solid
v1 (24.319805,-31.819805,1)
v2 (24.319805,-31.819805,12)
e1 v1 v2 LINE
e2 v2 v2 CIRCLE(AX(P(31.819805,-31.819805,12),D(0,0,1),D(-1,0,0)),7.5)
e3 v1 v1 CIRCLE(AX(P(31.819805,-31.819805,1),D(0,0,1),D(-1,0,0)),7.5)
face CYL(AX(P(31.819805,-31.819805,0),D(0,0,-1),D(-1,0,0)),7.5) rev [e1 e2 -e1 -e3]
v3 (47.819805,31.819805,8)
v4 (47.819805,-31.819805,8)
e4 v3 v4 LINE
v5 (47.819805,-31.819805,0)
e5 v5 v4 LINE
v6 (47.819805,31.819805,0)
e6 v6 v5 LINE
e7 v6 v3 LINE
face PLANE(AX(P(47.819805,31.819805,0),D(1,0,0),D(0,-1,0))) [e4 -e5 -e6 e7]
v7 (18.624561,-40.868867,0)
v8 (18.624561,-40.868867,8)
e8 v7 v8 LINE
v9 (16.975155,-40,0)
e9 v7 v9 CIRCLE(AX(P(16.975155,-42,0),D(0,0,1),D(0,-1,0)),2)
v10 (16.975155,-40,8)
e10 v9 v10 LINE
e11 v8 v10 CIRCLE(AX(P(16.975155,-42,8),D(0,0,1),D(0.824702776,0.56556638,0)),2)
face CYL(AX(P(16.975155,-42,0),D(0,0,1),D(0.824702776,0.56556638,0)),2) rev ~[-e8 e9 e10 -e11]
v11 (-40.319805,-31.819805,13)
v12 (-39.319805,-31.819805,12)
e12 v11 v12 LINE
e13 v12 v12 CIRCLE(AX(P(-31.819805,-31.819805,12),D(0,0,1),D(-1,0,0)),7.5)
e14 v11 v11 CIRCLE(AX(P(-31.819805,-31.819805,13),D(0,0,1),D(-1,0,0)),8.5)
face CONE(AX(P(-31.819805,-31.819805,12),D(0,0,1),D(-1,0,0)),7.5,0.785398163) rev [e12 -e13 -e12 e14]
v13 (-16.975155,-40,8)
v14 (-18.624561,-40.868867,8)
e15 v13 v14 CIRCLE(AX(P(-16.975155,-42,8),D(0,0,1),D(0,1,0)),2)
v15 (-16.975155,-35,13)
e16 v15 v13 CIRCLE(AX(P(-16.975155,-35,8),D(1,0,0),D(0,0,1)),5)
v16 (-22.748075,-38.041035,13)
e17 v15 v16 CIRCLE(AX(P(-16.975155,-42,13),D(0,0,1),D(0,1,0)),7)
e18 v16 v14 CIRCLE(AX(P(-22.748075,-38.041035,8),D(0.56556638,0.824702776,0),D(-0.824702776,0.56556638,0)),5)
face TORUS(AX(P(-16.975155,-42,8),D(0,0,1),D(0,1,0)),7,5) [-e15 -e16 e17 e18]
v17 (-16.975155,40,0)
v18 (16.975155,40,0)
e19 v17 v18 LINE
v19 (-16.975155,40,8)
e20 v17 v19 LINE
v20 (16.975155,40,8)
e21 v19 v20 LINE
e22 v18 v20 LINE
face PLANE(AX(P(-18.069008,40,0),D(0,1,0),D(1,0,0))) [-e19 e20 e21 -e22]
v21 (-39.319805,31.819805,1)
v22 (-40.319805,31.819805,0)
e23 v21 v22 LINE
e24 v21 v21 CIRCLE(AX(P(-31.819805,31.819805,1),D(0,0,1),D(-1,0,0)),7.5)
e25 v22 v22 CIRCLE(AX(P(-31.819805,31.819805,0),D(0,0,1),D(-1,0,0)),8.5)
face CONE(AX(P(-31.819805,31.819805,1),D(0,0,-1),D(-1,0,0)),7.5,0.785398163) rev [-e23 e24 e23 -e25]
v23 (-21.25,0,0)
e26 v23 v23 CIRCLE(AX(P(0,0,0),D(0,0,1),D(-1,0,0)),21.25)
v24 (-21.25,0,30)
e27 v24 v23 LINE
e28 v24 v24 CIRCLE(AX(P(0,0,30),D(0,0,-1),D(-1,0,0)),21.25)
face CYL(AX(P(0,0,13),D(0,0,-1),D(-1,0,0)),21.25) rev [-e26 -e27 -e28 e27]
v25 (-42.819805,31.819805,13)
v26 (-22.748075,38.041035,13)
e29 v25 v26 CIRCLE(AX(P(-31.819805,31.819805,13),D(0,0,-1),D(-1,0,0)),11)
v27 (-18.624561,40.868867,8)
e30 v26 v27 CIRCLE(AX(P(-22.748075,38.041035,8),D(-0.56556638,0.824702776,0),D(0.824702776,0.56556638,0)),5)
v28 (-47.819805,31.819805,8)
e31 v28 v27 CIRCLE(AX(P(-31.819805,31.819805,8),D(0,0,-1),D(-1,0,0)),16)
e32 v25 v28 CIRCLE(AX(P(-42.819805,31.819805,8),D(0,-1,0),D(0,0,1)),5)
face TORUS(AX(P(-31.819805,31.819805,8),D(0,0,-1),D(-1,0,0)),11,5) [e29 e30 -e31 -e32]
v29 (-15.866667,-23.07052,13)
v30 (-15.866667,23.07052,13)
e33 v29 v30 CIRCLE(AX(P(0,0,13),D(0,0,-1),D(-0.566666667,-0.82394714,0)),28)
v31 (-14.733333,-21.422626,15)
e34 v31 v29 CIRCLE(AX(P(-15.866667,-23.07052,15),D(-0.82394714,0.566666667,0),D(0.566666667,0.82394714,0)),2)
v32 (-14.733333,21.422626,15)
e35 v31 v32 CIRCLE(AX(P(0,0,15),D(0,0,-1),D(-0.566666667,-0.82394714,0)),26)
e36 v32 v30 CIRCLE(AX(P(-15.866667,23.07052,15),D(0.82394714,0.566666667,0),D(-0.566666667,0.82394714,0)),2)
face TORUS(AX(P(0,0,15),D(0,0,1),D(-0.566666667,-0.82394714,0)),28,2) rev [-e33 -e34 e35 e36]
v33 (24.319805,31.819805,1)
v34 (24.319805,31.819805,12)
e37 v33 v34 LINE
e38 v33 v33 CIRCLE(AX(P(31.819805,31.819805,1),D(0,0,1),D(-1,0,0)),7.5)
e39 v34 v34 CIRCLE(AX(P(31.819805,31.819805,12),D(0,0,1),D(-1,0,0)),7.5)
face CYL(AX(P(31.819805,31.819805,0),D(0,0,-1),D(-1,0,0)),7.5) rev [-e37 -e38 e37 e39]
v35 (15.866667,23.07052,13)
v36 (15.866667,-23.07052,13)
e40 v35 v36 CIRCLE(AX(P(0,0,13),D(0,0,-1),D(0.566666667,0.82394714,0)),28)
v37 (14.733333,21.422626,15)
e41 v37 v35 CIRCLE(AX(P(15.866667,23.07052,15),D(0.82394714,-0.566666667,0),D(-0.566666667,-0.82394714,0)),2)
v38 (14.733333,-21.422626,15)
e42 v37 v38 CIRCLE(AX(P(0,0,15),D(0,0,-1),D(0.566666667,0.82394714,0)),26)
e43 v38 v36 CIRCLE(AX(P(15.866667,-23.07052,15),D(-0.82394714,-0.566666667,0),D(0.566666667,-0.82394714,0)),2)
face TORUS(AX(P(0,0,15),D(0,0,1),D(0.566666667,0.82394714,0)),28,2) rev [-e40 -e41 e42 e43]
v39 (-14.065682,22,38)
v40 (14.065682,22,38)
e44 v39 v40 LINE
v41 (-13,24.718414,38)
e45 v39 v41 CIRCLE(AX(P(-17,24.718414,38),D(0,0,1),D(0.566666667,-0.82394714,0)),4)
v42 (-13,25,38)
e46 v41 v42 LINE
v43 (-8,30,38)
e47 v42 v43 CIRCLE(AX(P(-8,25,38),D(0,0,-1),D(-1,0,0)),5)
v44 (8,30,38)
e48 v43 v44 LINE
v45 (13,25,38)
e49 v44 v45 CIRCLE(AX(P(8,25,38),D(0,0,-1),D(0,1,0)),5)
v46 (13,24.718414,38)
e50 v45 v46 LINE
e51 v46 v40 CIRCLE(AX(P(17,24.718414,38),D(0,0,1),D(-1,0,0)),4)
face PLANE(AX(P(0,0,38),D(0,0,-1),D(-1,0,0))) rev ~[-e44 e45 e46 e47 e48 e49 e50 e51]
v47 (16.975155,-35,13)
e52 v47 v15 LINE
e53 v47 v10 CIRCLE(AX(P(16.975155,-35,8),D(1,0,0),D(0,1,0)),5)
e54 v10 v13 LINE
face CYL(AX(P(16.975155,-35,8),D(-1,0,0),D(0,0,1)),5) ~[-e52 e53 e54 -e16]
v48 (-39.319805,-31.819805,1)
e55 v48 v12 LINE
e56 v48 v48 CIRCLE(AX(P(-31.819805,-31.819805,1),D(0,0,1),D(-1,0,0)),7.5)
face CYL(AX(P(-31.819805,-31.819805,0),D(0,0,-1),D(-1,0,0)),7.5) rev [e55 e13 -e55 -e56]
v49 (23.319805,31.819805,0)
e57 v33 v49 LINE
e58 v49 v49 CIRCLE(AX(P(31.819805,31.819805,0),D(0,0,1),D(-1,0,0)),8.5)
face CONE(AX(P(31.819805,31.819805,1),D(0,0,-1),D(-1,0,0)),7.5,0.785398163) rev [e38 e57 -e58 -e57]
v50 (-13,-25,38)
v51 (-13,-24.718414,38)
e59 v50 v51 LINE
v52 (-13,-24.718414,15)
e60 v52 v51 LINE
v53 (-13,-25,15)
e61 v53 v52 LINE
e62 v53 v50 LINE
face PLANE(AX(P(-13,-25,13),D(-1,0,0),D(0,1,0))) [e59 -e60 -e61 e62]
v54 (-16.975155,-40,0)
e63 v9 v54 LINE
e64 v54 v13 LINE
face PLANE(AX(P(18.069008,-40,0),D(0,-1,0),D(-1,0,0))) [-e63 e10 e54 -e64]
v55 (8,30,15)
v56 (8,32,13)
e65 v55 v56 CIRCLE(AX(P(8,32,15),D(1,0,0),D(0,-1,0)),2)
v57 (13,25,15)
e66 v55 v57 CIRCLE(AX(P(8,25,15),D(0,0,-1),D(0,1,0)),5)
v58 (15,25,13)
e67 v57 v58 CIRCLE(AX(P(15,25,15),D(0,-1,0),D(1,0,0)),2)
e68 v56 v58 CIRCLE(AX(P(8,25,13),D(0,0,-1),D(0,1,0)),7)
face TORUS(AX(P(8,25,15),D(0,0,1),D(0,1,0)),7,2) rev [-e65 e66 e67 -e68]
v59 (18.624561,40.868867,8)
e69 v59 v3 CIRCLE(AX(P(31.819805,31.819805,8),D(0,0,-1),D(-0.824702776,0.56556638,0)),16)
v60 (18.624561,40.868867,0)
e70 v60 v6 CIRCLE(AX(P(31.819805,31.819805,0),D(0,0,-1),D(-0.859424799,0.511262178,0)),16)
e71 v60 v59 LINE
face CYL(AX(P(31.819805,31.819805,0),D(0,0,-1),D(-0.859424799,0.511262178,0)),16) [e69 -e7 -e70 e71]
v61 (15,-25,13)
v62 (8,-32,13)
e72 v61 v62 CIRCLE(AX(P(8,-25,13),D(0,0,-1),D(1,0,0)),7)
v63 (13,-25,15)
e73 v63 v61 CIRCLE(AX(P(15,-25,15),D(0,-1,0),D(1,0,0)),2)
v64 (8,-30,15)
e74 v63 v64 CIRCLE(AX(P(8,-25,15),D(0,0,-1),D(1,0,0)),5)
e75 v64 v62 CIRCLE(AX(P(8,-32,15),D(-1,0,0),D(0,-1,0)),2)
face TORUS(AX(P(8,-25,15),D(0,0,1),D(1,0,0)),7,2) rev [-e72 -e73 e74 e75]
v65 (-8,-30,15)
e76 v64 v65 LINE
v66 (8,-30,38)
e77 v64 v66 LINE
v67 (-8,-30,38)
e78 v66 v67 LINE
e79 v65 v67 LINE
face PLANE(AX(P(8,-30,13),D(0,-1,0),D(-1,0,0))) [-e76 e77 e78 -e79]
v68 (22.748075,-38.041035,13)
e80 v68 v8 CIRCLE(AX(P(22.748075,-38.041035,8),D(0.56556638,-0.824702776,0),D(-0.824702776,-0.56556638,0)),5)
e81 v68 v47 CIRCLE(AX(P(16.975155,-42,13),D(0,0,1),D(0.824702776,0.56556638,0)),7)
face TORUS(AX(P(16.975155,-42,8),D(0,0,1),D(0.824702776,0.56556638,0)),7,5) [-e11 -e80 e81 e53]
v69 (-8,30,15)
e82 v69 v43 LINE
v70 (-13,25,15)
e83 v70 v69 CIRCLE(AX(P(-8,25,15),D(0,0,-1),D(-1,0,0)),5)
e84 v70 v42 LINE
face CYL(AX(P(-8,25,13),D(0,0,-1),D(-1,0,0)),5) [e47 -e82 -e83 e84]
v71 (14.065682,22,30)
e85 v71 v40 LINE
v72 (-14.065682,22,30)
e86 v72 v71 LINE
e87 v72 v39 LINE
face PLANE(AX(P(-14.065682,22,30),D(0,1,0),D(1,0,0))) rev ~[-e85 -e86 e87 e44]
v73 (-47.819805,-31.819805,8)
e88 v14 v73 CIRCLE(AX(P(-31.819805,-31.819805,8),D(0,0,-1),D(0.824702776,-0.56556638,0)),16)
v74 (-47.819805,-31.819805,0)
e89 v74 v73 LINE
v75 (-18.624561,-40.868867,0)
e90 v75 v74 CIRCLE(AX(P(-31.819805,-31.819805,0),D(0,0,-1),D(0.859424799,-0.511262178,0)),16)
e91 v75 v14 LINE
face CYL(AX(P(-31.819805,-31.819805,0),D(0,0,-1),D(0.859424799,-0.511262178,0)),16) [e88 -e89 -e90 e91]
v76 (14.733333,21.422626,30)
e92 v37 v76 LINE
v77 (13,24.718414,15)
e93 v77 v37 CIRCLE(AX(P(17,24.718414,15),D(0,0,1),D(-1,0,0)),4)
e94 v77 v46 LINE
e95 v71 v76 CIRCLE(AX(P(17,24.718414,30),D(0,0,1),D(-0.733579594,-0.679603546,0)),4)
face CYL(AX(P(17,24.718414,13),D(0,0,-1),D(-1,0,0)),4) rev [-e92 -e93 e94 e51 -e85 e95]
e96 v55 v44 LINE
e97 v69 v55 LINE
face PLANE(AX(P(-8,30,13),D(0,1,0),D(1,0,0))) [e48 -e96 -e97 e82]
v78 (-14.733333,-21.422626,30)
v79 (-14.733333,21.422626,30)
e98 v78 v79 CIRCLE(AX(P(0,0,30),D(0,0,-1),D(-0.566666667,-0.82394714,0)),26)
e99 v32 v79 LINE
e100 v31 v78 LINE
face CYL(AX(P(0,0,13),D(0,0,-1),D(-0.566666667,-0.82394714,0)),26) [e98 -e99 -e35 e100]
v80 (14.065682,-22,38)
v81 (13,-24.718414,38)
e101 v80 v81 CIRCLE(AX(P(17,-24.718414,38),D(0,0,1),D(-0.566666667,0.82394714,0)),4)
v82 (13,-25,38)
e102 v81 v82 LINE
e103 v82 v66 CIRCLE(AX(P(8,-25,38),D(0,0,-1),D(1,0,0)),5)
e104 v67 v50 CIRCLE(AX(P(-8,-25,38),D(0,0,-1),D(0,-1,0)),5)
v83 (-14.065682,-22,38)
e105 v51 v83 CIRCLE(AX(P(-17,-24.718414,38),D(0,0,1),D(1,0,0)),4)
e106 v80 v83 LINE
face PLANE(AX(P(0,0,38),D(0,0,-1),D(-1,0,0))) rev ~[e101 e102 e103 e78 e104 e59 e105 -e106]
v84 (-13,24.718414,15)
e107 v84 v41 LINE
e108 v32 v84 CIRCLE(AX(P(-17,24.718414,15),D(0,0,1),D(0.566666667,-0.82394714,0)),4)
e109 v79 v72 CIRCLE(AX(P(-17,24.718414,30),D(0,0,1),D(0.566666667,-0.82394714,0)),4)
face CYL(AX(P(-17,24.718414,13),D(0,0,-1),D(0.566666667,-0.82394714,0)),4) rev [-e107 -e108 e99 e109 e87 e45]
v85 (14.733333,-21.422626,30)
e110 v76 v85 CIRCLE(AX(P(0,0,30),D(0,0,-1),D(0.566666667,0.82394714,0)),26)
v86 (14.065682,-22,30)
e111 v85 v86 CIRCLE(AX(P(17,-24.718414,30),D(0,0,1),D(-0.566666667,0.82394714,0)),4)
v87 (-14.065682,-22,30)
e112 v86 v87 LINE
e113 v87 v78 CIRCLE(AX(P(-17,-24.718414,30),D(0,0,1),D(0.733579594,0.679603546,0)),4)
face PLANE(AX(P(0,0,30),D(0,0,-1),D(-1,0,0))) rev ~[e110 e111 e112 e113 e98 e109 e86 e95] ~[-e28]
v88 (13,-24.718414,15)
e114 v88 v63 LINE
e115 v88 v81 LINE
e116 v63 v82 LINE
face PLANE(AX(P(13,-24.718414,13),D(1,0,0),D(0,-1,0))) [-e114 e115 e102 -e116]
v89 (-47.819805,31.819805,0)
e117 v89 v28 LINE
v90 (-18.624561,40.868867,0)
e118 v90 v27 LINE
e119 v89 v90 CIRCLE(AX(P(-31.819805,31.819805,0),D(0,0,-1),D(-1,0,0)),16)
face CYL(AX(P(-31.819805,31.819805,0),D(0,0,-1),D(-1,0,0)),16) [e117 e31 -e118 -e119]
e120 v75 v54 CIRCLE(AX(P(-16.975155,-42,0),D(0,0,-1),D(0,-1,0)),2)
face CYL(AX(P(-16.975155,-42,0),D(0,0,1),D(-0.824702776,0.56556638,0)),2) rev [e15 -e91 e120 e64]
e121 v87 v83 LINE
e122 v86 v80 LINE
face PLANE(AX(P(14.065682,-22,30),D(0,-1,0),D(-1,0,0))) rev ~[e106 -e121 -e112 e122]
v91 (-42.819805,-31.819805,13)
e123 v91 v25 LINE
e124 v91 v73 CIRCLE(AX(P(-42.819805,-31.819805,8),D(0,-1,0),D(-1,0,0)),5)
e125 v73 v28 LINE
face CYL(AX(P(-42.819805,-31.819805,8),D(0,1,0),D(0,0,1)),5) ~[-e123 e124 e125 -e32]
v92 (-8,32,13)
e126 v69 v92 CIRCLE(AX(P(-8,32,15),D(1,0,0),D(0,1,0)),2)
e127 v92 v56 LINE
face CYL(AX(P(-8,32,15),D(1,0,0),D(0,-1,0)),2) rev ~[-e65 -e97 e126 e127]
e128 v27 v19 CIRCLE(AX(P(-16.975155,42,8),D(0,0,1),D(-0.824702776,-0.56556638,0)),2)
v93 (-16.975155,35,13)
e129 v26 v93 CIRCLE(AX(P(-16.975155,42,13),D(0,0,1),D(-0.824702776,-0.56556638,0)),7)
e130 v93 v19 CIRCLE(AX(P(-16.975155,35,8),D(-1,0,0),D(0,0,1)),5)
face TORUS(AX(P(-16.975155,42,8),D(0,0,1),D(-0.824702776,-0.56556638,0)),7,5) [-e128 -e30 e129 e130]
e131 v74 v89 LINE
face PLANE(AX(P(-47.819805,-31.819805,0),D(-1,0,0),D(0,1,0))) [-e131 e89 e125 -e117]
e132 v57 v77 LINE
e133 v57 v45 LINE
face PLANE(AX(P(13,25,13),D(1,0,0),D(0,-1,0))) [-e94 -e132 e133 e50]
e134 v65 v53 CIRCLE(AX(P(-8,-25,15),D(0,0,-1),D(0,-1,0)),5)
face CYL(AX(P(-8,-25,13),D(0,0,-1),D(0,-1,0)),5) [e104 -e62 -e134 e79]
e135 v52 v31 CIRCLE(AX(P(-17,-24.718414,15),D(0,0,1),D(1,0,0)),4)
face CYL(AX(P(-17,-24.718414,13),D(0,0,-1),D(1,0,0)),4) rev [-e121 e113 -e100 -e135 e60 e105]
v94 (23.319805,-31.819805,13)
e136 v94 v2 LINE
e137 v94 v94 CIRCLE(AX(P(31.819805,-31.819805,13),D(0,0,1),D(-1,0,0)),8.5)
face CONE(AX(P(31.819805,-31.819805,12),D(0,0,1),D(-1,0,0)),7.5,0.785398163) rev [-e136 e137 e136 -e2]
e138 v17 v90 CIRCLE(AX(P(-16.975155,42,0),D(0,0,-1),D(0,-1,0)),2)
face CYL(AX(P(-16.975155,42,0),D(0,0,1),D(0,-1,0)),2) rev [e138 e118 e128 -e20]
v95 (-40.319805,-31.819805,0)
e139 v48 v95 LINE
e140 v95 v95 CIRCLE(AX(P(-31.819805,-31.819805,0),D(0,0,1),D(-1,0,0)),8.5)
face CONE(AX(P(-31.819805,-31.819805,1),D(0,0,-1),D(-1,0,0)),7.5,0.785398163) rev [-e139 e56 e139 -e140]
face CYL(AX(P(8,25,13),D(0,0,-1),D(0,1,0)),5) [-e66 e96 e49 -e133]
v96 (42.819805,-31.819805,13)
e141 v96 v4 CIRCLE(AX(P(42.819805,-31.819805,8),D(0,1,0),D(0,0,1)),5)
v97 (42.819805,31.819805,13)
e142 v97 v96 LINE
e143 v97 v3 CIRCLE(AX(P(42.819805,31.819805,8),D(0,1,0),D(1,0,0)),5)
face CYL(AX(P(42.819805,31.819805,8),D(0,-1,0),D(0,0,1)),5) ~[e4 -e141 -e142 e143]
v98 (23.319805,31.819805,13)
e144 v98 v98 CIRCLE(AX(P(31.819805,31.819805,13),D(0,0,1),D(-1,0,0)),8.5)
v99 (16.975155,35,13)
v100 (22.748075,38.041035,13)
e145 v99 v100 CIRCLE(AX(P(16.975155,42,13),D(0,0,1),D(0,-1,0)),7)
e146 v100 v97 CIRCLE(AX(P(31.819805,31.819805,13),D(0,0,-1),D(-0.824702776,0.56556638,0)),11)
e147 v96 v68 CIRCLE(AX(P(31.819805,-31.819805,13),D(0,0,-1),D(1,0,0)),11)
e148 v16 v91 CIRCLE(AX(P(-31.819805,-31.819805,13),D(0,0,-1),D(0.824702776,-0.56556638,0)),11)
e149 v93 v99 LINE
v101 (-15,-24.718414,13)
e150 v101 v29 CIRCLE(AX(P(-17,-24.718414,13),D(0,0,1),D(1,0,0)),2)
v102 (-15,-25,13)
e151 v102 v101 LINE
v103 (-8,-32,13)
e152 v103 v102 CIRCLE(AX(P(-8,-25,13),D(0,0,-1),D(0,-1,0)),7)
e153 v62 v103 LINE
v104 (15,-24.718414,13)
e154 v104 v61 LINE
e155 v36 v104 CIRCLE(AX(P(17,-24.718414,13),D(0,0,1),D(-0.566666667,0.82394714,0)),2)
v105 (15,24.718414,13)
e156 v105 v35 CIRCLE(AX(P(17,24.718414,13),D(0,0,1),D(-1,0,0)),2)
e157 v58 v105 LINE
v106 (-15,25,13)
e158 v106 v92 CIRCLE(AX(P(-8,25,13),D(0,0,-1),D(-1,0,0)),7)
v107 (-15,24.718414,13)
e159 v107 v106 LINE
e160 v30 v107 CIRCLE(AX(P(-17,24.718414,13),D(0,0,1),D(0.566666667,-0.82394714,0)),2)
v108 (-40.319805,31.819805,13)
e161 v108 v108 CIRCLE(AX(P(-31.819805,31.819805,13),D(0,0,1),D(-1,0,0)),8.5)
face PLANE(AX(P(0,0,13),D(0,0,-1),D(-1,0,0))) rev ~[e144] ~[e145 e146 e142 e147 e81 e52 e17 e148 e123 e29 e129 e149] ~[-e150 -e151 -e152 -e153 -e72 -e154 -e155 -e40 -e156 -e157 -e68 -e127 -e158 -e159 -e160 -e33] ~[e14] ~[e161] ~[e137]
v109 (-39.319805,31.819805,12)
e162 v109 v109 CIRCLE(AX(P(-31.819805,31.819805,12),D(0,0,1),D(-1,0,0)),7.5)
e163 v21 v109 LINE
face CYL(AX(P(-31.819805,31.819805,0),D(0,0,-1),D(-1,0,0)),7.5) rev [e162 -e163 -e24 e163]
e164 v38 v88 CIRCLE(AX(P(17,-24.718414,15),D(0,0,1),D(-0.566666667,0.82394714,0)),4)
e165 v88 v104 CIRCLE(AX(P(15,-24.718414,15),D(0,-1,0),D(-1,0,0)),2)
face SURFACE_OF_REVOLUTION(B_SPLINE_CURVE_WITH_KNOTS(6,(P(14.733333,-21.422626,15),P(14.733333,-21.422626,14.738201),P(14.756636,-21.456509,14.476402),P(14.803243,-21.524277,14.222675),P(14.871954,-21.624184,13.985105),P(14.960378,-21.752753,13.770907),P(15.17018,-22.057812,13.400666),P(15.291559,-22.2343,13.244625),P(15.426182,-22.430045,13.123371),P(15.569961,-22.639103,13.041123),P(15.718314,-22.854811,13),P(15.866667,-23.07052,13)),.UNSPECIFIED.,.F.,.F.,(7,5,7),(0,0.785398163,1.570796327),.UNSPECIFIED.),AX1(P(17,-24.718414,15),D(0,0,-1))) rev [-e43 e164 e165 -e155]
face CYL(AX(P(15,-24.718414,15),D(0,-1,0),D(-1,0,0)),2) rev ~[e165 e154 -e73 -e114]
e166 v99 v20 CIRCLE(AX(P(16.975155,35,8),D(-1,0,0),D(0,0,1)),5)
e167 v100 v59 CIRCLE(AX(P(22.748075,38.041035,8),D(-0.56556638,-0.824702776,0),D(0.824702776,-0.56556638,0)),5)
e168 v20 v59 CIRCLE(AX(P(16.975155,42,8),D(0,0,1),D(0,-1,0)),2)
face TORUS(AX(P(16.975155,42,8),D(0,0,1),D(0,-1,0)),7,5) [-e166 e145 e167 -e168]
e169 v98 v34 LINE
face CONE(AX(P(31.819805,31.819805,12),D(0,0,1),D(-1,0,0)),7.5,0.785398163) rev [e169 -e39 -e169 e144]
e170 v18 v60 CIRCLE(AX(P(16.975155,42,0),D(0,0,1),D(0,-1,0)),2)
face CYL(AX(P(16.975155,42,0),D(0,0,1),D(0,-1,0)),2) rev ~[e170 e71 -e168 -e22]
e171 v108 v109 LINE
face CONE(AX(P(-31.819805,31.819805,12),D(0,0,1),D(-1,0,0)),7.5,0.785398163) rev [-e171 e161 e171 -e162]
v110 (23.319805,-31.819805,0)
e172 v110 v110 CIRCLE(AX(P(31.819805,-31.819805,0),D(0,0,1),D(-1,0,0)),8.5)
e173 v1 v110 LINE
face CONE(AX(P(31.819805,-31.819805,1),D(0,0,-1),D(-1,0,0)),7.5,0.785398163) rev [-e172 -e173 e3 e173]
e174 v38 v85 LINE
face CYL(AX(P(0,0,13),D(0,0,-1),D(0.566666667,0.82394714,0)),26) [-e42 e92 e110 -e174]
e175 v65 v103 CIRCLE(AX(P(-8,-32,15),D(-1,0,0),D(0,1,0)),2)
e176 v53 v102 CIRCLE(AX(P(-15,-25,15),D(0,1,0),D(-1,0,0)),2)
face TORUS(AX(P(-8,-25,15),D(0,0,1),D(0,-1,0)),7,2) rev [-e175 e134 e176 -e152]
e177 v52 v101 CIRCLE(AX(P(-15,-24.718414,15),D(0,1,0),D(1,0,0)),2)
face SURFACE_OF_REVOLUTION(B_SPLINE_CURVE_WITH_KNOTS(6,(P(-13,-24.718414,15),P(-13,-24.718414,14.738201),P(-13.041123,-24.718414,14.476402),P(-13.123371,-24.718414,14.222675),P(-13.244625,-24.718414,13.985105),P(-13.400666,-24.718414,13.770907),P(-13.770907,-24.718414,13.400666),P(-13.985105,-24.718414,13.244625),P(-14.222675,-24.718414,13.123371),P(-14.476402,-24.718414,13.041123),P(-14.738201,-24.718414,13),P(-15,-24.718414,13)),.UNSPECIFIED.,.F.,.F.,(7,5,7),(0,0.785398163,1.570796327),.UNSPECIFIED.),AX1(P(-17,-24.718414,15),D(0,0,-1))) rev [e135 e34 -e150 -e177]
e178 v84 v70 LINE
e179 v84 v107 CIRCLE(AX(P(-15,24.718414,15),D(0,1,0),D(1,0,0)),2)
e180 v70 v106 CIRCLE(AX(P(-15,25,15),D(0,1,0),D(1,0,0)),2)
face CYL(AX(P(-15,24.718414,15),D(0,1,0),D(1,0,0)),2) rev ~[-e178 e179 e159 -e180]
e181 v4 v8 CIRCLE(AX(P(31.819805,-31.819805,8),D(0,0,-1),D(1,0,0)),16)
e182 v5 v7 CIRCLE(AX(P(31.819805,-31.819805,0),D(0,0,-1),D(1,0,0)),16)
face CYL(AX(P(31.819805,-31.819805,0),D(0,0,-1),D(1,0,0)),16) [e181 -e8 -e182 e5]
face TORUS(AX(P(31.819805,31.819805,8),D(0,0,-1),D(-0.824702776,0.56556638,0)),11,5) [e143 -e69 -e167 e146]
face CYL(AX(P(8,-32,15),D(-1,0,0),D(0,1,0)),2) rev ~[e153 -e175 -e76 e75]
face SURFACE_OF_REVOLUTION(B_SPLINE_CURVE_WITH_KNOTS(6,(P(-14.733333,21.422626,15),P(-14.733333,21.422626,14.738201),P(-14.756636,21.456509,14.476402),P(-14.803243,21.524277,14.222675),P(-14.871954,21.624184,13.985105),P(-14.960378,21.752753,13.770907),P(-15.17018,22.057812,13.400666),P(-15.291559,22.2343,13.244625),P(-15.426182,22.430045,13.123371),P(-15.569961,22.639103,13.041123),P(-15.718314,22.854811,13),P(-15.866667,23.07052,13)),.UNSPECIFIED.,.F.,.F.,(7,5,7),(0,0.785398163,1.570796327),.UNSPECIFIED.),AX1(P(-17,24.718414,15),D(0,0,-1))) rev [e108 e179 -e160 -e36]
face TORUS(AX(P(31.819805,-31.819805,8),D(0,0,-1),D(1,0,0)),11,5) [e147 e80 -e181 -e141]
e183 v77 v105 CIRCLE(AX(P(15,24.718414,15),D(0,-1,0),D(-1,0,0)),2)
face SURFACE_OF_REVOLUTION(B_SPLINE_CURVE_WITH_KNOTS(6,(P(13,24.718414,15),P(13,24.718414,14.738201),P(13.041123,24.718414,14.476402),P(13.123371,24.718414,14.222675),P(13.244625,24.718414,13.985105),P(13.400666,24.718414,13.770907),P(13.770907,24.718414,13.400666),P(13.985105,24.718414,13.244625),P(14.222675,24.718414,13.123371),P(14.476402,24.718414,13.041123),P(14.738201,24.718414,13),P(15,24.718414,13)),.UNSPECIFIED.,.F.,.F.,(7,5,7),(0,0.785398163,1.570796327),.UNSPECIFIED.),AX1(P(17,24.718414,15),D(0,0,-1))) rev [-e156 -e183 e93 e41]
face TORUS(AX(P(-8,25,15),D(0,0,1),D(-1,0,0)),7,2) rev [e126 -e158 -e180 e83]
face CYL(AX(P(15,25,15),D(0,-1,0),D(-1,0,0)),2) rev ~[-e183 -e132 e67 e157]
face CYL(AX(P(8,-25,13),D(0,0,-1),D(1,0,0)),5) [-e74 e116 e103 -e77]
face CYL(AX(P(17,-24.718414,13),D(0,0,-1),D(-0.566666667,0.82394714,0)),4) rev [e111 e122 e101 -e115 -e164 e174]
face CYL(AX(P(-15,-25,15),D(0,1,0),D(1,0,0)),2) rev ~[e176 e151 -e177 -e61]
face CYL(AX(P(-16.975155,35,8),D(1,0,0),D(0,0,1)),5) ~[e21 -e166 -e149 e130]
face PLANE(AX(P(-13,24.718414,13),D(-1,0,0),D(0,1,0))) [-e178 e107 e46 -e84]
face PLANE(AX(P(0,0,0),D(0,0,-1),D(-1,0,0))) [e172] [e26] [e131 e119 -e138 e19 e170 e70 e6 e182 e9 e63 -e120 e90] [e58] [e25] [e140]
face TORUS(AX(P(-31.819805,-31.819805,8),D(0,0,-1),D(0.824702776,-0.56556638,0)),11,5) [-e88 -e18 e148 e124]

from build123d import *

# Parameters (mm, degrees)
SKETCH_1_R          = 21.25
SKETCH_1_R_2        = 7.5
EXTRUDE_1_DEPTH     = 13
SKETCH_2_R          = 21.25
EXTRUDE_4_DEPTH     = 25
CUT_EXTRUDE_START   = -8
CUT_EXTRUDE_4_DEPTH = 8
FILLET_5_R          = 2
FILLET_6_R          = 5
CHAMFER_1_SIZE      = 1


with BuildPart() as part:
    # Эскиз1 → Бобышка-Вытянуть1 (new body)
    with BuildSketch(Plane.XY):
        with BuildLine():
            Line((-18.069008367, 40), (18.069008367, 40))
            ThreePointArc((18.069008367, 40), (36.061694556, 47.247260365), (47.819805153, 31.819805153))
            Line((47.819805153, 31.819805153), (47.819805153, -31.819805153))
            ThreePointArc((47.819805153, -31.819805153), (36.061694556, -47.247260365), (18.069008367, -40))
            Line((18.069008367, -40), (-18.069008367, -40))
            ThreePointArc((-18.069008367, -40), (-36.061694556, -47.247260365), (-47.819805153, -31.819805153))
            Line((-47.819805153, -31.819805153), (-47.819805153, 31.819805153))
            ThreePointArc((-47.819805153, 31.819805153), (-36.061694556, 47.247260365), (-18.069008367, 40))
        make_face()
        with Locations(Location((0, 0, 0), (0, 0, 180))):
            Circle(SKETCH_1_R, mode=Mode.SUBTRACT)
        with Locations(Location((-31.819805153, 31.819805153, 0), (0, 0, 180))):
            Circle(SKETCH_1_R_2, mode=Mode.SUBTRACT)
        with Locations(Location((31.819805153, 31.819805153, 0), (0, 0, 180))):
            Circle(SKETCH_1_R_2, mode=Mode.SUBTRACT)
        with Locations(Location((31.819805153, -31.819805153, 0), (0, 0, 180))):
            Circle(SKETCH_1_R_2, mode=Mode.SUBTRACT)
        with Locations(Location((-31.819805153, -31.819805153, 0), (0, 0, 180))):
            Circle(SKETCH_1_R_2, mode=Mode.SUBTRACT)
    extrude(amount=EXTRUDE_1_DEPTH)

    # Эскиз2 → Бобышка-Вытянуть4 (add)
    with BuildSketch(Plane.XY.offset(13)):
        with BuildLine():
            Line((8, -30), (-8, -30))
            ThreePointArc((-8, -30), (-11.535533906, -28.535533906), (-13, -25))
            Line((-13, -25), (-13, -24.718414189))
            ThreePointArc((-13, -24.718414189), (-13.459755187, -22.856515516), (-14.733333333, -21.42262563))
            ThreePointArc((-14.733333333, -21.42262563), (-26, 0), (-14.733333333, 21.42262563))
            ThreePointArc((-14.733333333, 21.42262563), (-13.459755187, 22.856515516), (-13, 24.718414189))
            Line((-13, 24.718414189), (-13, 25))
            ThreePointArc((-13, 25), (-11.535533906, 28.535533906), (-8, 30))
            Line((-8, 30), (8, 30))
            ThreePointArc((8, 30), (11.535533906, 28.535533906), (13, 25))
            Line((13, 25), (13, 24.718414189))
            ThreePointArc((13, 24.718414189), (13.459755187, 22.856515516), (14.733333333, 21.42262563))
            ThreePointArc((14.733333333, 21.42262563), (26, 0), (14.733333333, -21.42262563))
            ThreePointArc((14.733333333, -21.42262563), (13.459755187, -22.856515516), (13, -24.718414189))
            Line((13, -24.718414189), (13, -25))
            ThreePointArc((13, -25), (11.535533906, -28.535533906), (8, -30))
        make_face()
        with Locations(Location((0, 0, 0), (0, 0, 180))):
            Circle(SKETCH_2_R, mode=Mode.SUBTRACT)
    extrude(amount=EXTRUDE_4_DEPTH)

    # Эскиз3 → Вырез-Вытянуть4 (cut)
    with BuildSketch(Plane.XY.offset(38).offset(CUT_EXTRUDE_START)):
        with BuildLine():
            Line((-14.06568163, 22), (14.06568163, 22))
            ThreePointArc((14.06568163, 22), (14.383532605, 21.692840132), (14.733333333, 21.42262563))
            ThreePointArc((14.733333333, 21.42262563), (26, 0), (14.733333333, -21.42262563))
            ThreePointArc((14.733333333, -21.42262563), (14.383532605, -21.692840132), (14.06568163, -22))
            Line((14.06568163, -22), (-14.06568163, -22))
            ThreePointArc((-14.06568163, -22), (-14.383532605, -21.692840132), (-14.733333333, -21.42262563))
            ThreePointArc((-14.733333333, -21.42262563), (-26, 0), (-14.733333333, 21.42262563))
            ThreePointArc((-14.733333333, 21.42262563), (-14.383532605, 21.692840132), (-14.06568163, 22))
        make_face()
    extrude(amount=CUT_EXTRUDE_4_DEPTH, mode=Mode.SUBTRACT)

    # Скругление5
    fillet_5_edges = [part.edges().sort_by_distance(p)[0] for p in [
        (18.069008367, -40, 6.5),
        (-18.069008367, -40, 6.5),
        (-18.069008367, 40, 6.5),
        (18.069008367, 40, 6.5),
        (11.535533906, -28.535533906, 13),
        (13, -24.859207094, 13),
        (13.459755187, -22.856515516, 13),
        (26, 0, 13),
        (13.459755187, 22.856515516, 13),
        (13, 24.859207094, 13),
        (11.535533906, 28.535533906, 13),
        (0, 30, 13),
        (-11.535533906, 28.535533906, 13),
        (-13, 24.859207094, 13),
        (-13.459755187, 22.856515516, 13),
        (-26, 0, 13),
        (-13.459755187, -22.856515516, 13),
        (-13, -24.859207094, 13),
        (-11.535533906, -28.535533906, 13),
        (0, -30, 13),
    ]]
    fillet(fillet_5_edges, radius=FILLET_5_R)

    # Скругление6
    fillet_6_edges = [part.edges().sort_by_distance(p)[0] for p in [
        (0, 40, 13),
        (0, -40, 13),
        (-17.907285662, 40.230499291, 13),
        (17.907285662, 40.230499291, 13),
        (17.907285662, -40.230499291, 13),
        (-17.907285662, -40.230499291, 13),
        (47.819805153, 0, 13),
        (36.556686471, 47.102539051, 13),
        (-36.556686471, 47.102539051, 13),
        (-47.819805153, 0, 13),
        (-36.556686471, -47.102539051, 13),
        (36.556686471, -47.102539051, 13),
    ]]
    fillet(fillet_6_edges, radius=FILLET_6_R)

    # Фаска1
    chamfer_1_edges = [part.edges().sort_by_distance(p)[0] for p in [
        (-24.319805153, -31.819805153, 13),
        (39.319805153, -31.819805153, 13),
        (39.319805153, 31.819805153, 13),
        (-24.319805153, 31.819805153, 0),
        (39.319805153, 31.819805153, 0),
        (39.319805153, -31.819805153, 0),
        (-24.319805153, -31.819805153, 0),
        (-24.319805153, 31.819805153, 13),
    ]]
    chamfer(chamfer_1_edges, length=CHAMFER_1_SIZE)


solid = part.part
